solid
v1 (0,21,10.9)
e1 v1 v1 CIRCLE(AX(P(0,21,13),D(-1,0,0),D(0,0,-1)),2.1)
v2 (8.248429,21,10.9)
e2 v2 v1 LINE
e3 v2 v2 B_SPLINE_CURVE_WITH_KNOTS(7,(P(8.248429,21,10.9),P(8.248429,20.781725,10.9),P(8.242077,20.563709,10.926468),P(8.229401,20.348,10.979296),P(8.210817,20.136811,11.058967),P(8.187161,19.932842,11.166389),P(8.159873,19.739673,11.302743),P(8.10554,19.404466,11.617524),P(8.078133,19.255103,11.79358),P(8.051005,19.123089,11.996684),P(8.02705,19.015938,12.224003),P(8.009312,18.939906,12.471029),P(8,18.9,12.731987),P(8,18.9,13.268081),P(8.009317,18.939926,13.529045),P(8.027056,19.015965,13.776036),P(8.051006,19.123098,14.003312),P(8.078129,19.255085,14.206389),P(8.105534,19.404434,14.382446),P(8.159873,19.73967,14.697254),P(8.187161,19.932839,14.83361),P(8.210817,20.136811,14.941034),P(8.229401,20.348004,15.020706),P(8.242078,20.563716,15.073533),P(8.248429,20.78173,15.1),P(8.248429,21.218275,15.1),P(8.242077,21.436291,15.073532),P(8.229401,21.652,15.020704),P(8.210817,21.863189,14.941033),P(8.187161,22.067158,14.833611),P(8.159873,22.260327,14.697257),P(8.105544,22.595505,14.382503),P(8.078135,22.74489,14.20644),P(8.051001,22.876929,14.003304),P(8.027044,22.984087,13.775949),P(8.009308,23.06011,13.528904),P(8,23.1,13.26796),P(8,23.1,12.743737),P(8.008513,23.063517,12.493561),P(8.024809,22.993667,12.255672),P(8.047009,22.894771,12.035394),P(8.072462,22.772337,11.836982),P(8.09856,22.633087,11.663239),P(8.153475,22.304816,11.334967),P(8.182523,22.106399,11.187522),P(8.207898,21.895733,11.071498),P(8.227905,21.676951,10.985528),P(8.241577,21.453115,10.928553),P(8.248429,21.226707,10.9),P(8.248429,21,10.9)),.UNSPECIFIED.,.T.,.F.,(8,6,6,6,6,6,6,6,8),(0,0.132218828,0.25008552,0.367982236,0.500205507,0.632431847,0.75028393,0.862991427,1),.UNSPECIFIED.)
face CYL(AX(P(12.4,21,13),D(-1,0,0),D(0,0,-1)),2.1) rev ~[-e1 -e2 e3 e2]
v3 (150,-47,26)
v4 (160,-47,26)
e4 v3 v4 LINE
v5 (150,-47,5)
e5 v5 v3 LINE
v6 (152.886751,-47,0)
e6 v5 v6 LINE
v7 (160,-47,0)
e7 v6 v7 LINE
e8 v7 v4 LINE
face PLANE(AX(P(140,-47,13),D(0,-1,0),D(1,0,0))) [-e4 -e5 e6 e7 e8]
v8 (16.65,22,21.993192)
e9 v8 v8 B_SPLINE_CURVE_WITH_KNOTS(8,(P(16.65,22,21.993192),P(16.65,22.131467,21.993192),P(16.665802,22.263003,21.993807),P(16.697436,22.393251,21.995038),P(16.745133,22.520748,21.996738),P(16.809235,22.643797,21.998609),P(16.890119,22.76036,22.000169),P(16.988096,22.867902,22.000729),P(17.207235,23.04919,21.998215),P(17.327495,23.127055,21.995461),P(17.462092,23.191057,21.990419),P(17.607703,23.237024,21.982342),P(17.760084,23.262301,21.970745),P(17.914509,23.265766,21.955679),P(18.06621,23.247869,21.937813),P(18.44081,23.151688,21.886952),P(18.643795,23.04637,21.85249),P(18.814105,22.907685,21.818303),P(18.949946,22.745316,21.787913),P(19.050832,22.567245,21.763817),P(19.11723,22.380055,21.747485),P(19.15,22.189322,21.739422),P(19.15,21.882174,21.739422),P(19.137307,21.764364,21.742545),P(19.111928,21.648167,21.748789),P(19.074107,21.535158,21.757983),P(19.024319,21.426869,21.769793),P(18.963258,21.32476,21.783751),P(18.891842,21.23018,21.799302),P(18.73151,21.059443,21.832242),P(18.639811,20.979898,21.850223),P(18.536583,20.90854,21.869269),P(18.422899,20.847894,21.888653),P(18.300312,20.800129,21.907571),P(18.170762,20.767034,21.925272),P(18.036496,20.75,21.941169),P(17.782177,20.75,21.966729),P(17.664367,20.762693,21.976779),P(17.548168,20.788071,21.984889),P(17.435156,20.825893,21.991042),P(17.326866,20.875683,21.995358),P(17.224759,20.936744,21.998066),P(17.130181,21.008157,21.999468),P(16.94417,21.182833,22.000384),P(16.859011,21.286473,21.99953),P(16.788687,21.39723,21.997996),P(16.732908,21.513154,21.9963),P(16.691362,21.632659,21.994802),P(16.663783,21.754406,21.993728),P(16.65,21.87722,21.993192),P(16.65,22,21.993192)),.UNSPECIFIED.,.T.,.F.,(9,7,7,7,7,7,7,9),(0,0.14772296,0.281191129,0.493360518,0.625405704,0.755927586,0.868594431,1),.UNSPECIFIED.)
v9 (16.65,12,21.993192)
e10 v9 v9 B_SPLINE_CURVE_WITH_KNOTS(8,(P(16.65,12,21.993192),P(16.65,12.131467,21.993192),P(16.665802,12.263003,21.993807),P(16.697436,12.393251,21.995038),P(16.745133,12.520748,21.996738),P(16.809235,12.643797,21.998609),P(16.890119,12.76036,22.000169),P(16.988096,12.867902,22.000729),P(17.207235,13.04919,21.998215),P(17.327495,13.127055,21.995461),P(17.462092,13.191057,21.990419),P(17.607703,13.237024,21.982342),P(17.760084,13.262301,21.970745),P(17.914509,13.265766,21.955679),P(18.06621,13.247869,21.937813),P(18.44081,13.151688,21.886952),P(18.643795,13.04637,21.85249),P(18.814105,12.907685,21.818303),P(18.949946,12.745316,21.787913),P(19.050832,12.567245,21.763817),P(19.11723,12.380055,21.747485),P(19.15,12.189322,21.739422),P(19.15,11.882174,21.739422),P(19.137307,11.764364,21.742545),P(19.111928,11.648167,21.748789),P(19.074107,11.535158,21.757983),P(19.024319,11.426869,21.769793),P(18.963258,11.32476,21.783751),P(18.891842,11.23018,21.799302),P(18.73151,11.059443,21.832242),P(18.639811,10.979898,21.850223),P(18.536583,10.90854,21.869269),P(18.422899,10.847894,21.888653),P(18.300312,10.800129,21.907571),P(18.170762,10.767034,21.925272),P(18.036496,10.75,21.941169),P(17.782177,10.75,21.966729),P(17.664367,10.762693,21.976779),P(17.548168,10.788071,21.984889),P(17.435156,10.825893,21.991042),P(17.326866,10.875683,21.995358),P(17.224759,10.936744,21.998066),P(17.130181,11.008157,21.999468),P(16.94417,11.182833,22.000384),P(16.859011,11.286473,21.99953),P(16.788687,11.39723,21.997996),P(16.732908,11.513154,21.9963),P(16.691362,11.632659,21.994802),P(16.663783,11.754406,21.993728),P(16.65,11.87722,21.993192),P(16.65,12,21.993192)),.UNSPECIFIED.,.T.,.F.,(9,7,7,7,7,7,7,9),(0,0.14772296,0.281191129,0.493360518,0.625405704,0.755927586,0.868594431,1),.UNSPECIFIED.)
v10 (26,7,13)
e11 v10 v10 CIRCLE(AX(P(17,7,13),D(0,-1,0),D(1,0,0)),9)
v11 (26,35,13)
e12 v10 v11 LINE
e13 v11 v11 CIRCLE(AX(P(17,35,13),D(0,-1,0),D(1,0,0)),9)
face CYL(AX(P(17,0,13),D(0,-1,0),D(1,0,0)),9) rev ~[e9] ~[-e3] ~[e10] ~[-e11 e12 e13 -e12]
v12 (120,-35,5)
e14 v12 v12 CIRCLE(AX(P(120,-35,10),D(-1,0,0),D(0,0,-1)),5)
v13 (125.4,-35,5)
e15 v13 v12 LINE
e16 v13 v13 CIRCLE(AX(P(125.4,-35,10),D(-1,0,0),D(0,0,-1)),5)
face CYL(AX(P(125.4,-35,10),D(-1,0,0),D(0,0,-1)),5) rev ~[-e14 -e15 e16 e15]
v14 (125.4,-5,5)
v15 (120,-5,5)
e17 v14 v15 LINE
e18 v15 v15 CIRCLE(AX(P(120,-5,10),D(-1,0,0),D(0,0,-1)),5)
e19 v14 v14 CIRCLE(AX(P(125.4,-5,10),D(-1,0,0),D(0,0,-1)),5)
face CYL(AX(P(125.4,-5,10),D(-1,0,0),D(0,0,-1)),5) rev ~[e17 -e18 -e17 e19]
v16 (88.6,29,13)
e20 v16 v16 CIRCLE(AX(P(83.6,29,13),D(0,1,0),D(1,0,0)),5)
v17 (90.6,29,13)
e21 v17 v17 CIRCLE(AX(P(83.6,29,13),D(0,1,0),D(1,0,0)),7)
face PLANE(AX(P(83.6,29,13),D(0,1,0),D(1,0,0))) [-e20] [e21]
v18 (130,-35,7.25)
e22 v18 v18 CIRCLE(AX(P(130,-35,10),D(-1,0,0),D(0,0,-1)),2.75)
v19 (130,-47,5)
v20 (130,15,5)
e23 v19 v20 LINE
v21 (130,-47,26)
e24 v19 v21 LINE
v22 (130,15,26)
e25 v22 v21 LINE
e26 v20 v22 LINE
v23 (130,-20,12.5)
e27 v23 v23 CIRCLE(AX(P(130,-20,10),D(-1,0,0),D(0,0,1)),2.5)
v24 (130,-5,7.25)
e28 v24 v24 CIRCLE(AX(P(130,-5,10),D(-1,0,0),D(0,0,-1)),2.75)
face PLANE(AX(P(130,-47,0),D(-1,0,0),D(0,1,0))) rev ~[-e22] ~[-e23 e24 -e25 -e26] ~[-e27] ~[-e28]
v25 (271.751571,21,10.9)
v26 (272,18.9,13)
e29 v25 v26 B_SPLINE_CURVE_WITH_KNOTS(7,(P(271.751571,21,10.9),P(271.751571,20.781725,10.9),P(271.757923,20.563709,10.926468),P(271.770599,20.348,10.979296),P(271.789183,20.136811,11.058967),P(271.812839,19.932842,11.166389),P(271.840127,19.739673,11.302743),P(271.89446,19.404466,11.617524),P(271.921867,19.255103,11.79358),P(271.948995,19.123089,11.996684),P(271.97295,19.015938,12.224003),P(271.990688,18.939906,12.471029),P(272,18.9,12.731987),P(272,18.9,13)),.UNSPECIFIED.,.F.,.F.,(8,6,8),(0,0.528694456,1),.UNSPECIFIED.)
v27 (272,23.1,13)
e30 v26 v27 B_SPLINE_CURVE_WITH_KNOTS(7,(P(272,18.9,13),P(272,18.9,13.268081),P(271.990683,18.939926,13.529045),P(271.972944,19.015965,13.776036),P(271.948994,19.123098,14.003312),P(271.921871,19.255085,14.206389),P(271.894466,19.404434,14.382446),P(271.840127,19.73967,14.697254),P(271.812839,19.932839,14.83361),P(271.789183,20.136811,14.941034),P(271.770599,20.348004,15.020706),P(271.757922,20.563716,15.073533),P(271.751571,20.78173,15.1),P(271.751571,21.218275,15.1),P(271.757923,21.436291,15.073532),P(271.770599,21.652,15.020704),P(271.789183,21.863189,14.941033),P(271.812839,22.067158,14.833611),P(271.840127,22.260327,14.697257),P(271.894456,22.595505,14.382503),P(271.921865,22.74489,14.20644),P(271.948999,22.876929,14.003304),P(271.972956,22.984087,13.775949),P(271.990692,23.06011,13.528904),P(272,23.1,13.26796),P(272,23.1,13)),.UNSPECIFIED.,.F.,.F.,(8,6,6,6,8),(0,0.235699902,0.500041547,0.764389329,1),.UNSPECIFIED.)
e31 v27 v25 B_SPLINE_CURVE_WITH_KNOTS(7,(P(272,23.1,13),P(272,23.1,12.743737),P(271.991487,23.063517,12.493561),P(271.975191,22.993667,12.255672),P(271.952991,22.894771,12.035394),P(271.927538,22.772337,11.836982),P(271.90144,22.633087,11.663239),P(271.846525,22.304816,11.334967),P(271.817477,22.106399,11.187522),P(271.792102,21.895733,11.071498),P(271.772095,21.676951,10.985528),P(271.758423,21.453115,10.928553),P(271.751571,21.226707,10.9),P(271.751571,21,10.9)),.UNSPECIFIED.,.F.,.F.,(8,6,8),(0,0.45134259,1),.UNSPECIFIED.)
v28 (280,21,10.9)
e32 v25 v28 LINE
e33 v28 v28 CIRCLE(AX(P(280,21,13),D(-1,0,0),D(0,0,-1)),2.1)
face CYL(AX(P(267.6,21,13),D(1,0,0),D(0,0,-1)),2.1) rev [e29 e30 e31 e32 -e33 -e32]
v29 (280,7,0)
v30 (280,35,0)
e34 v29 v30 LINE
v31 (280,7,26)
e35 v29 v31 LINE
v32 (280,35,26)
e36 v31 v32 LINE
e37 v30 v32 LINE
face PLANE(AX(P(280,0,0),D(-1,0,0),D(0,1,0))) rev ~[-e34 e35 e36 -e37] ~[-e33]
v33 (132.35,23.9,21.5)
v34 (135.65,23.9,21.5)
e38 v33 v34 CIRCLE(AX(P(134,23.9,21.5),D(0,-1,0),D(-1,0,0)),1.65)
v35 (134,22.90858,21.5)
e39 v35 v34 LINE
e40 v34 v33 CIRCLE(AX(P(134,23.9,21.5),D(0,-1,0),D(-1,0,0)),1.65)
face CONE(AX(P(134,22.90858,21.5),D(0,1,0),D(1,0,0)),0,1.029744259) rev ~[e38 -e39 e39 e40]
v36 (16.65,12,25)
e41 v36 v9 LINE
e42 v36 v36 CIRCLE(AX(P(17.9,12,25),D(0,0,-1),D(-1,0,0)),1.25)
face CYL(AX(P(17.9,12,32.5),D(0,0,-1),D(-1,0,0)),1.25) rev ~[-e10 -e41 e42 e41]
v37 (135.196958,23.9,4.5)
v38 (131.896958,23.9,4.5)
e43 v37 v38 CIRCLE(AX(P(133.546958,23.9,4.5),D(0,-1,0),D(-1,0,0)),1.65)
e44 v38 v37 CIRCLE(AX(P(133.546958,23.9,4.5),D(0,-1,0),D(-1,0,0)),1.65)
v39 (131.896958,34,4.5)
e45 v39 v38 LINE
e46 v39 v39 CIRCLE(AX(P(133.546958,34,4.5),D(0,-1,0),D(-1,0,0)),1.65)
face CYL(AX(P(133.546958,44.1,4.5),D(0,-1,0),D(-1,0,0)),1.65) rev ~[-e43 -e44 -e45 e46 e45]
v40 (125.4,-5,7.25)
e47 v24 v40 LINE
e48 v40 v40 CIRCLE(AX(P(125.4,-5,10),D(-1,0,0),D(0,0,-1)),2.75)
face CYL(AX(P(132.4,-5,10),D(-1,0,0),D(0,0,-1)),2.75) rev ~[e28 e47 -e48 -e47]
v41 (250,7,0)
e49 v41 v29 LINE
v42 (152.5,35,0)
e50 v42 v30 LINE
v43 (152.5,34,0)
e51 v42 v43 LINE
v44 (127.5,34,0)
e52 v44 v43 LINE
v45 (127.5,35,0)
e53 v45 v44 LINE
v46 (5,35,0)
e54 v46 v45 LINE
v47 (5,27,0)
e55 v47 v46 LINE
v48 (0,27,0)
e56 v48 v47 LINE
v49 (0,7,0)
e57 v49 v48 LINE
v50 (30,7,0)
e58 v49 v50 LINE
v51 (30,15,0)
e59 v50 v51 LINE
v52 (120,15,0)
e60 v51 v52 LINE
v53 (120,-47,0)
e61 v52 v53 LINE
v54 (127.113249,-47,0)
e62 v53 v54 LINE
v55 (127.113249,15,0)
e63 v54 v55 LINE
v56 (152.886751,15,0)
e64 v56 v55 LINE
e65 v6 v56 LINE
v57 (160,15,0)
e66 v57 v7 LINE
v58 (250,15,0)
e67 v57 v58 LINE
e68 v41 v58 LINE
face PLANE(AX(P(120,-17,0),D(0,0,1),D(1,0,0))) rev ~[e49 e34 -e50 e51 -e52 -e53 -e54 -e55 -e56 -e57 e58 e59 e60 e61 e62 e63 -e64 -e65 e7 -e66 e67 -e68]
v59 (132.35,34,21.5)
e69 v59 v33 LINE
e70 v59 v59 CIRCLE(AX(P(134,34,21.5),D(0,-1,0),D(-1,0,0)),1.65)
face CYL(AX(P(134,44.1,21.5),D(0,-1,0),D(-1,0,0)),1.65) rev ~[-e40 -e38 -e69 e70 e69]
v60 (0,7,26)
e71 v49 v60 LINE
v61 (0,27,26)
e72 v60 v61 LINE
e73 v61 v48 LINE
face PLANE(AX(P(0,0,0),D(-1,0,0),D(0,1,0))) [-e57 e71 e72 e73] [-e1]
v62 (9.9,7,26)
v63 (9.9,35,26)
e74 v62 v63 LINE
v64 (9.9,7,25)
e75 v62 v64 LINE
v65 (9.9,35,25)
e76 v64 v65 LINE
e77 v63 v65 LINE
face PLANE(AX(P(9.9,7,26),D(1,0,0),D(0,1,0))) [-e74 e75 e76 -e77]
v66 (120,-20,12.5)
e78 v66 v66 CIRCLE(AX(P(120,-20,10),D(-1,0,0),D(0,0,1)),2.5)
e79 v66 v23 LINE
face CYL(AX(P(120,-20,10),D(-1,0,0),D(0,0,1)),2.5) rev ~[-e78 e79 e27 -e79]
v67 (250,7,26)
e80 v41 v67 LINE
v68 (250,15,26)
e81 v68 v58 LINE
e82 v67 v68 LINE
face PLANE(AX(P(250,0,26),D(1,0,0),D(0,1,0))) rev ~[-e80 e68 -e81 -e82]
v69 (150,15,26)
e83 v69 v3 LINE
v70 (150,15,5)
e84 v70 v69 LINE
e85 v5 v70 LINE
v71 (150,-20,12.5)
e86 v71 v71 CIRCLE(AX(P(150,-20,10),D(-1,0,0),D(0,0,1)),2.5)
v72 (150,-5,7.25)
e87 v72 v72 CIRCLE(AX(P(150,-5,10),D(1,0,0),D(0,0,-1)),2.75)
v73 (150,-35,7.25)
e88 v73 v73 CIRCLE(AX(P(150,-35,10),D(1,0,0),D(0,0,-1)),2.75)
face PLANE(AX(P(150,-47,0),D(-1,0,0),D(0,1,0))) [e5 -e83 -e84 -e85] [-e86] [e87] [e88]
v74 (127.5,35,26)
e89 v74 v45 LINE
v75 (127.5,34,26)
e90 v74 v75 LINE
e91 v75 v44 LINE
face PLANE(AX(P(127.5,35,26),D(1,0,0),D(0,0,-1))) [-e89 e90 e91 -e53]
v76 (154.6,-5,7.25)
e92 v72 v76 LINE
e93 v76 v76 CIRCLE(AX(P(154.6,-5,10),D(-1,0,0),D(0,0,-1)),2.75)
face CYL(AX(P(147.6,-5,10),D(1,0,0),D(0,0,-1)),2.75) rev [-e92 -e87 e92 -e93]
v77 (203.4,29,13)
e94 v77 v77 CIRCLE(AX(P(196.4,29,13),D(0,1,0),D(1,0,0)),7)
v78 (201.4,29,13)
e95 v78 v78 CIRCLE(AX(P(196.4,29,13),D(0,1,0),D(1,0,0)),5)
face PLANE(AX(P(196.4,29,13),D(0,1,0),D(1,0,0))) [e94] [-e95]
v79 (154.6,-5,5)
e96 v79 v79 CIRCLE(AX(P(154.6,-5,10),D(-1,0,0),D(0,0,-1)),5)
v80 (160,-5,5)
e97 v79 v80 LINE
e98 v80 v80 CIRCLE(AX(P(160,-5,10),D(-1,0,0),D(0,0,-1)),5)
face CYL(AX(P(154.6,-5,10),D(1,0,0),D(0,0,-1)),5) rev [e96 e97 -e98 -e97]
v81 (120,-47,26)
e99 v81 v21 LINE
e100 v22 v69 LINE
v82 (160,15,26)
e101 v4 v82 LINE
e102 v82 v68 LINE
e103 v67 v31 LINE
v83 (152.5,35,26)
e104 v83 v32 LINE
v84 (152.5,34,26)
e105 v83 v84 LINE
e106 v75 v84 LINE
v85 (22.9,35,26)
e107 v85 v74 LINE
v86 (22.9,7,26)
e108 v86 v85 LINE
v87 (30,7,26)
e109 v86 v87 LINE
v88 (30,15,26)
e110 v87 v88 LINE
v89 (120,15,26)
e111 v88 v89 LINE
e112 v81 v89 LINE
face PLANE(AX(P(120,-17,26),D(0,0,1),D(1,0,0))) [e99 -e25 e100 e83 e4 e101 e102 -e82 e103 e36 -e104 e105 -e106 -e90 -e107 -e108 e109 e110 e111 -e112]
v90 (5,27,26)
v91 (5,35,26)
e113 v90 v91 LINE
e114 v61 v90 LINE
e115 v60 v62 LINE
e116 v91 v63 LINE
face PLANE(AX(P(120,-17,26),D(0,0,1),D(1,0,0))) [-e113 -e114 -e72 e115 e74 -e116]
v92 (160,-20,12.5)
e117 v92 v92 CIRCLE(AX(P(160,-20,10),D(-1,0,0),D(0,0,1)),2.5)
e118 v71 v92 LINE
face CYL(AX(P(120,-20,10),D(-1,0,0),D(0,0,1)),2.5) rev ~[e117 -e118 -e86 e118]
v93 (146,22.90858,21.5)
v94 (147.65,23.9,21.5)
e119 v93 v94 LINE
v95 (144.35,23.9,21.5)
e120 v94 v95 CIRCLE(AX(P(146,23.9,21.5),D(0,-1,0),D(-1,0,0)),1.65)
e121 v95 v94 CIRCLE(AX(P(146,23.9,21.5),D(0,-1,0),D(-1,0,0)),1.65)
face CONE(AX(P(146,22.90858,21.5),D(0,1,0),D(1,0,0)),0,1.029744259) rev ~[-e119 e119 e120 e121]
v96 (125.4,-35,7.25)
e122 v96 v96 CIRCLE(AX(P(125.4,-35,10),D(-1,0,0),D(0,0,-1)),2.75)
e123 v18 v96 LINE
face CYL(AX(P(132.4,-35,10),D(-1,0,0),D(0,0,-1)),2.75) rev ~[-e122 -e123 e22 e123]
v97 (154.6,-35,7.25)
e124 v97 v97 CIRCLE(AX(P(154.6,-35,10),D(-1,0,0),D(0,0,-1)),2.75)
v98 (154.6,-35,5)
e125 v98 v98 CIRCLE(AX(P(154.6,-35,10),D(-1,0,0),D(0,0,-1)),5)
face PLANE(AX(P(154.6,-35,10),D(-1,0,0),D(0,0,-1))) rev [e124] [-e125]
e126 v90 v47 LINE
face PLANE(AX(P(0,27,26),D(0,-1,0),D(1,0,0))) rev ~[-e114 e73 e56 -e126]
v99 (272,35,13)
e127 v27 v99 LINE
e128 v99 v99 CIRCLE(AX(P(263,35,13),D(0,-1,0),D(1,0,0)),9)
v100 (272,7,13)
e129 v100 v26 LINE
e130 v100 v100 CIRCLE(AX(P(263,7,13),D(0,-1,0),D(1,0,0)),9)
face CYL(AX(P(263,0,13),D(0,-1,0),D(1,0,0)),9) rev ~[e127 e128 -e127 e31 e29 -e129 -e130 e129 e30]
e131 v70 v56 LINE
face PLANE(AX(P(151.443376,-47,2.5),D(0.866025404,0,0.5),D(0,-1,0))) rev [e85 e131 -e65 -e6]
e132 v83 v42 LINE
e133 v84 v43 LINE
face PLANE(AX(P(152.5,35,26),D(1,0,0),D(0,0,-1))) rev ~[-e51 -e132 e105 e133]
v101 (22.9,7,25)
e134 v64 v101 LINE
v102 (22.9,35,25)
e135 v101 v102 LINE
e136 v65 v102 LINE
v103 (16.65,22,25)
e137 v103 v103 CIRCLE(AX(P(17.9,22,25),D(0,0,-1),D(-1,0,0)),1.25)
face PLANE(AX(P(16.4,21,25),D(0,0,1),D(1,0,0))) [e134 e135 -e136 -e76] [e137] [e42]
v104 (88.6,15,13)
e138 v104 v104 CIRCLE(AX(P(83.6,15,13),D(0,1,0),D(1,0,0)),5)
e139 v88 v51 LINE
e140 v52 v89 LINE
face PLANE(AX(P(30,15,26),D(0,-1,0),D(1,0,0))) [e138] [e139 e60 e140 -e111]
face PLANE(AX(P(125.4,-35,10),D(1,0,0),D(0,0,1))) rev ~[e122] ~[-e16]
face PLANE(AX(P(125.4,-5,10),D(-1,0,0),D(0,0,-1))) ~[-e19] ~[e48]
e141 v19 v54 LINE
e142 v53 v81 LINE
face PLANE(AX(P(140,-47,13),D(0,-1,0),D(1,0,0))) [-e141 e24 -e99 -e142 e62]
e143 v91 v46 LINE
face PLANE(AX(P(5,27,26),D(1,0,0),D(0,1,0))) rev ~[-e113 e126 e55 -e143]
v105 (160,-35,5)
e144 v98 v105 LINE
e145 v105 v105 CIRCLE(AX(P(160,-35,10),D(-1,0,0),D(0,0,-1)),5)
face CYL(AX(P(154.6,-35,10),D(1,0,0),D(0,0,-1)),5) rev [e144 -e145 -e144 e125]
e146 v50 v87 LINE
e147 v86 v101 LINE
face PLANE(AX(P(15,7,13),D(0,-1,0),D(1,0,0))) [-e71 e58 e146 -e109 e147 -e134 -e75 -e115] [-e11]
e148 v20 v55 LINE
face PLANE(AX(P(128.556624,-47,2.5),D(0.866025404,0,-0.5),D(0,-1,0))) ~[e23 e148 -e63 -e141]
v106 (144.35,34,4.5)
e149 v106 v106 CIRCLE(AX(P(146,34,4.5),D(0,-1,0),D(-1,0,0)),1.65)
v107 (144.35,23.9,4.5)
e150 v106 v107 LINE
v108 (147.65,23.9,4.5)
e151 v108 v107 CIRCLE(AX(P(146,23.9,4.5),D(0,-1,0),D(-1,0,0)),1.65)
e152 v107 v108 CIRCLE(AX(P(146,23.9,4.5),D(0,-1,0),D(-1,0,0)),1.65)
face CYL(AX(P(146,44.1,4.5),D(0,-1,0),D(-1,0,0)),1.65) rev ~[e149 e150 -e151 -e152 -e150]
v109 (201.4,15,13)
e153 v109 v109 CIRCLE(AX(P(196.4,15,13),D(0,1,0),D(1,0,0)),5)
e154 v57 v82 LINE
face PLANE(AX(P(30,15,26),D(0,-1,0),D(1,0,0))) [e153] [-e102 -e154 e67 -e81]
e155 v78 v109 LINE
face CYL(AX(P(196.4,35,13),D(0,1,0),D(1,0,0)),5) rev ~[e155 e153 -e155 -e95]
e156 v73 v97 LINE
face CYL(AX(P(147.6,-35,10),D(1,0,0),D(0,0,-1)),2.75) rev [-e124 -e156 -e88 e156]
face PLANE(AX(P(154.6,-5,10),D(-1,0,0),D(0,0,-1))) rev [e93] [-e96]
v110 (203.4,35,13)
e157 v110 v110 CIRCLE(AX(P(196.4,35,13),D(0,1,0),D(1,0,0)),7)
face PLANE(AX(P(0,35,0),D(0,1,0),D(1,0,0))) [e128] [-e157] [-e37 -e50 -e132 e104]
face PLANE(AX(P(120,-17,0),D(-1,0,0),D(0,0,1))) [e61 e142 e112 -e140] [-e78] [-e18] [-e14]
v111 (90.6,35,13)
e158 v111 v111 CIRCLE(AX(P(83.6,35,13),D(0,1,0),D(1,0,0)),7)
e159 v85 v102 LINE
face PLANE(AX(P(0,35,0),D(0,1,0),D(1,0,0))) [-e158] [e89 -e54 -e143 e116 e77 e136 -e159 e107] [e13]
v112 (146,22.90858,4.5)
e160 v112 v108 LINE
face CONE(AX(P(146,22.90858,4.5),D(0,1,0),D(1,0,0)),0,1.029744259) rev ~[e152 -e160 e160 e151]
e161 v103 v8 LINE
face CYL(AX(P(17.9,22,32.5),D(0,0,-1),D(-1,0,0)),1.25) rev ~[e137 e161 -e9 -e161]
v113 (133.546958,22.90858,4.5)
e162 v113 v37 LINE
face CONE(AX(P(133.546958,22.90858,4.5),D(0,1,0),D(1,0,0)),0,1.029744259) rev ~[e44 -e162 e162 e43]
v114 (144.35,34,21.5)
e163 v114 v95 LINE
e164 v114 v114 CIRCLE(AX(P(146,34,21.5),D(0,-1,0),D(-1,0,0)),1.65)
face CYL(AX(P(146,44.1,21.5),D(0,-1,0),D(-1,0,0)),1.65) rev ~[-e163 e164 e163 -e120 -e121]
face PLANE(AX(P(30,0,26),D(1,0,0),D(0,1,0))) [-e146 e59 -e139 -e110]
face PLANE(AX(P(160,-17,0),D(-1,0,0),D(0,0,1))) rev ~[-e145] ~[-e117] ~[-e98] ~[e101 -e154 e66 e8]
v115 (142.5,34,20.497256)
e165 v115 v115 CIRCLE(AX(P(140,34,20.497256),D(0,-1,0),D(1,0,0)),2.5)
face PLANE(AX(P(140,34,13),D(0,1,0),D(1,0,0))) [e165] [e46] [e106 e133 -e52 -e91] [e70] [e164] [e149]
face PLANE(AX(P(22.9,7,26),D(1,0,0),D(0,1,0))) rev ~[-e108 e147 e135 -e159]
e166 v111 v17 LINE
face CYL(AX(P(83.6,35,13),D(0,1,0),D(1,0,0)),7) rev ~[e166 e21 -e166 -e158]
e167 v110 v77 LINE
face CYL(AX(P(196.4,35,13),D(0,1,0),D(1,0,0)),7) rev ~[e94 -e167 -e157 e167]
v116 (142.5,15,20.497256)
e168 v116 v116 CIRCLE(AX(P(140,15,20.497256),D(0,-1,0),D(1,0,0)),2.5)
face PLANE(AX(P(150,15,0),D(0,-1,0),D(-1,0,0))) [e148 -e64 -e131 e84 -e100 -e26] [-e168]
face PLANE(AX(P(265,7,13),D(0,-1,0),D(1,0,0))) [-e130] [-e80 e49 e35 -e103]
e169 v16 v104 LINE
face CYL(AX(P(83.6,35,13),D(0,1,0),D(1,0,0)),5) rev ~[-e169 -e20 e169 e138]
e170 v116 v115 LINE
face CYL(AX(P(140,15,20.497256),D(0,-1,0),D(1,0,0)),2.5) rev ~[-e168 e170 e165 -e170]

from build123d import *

# Parameters (mm, degrees)
SKETCH_1_W                    = 280
SKETCH_1_H                    = 35
EXTRUDE_1_DEPTH               = 26
SKETCH_3_R                    = 9
CUT_EXTRUDE_1_DEPTH           = 36
SKETCH_4_W                    = 25
SKETCH_4_H                    = 26
CUT_EXTRUDE_2_DEPTH           = 1
HOLE_WIZARD_M4_1_D            = 3.3
HOLE_WIZARD_M4_1_DEPTH        = 10.1
HOLE_WIZARD_M4_1_TIP          = 0.991420021
SKETCH_7_W                    = 220
SKETCH_7_H                    = 15
CUT_EXTRUDE_3_DEPTH           = 27
SKETCH_8_W                    = 40
SKETCH_8_H                    = 26
EXTRUDE_2_DEPTH               = 35
SKETCH_15_W                   = 58.430685067
SKETCH_15_H                   = 44.376242578
CUT_EXTRUDE_7_DEPTH           = 3
SKETCH_17_W                   = 40
SKETCH_17_H                   = 26
EXTRUDE_4_DEPTH               = 30
SKETCH_18_W                   = 20
SKETCH_18_H                   = 62
CUT_EXTRUDE_8_DEPTH           = 27
SKETCH_19_W                   = 30
SKETCH_19_H                   = 26
CUT_EXTRUDE_11_DEPTH          = 7
HOLE_WIZARD_M5_1_2_AT_2_COUNT = 2
HOLE_WIZARD_M5_1_2_AT_2_PITCH = 30
CHAMFER_1_SIZE                = 5
CHAMFER_1_SIZE2               = 2.886751346
CHAMFER_2_SIZE                = 5
CHAMFER_2_SIZE2               = 2.886751346
SKETCH_25_R                   = 2.5
CUT_EXTRUDE_12_DEPTH          = 21.0000001
SKETCH_26_R                   = 2.5
CUT_EXTRUDE_13_DEPTH          = 161.0000001
SKETCH_27_R                   = 5
CUT_EXTRUDE_14_DEPTH          = 83
SKETCH_28_R                   = 7
CUT_EXTRUDE_15_DEPTH          = 6
SKETCH_31_W                   = 13
SKETCH_31_H                   = 28
CUT_EXTRUDE_16_DEPTH          = 1
HOLE_WIZARD_M3_1_D            = 2.5
HOLE_WIZARD_M3_1_DEPTH        = 7.5
HOLE_WIZARD_M3_1_TIP          = 0.751075774
SKETCH_34_W                   = 5
SKETCH_34_H                   = 8
CUT_EXTRUDE_17_DEPTH          = 27


with BuildPart() as part:
    # 草图1 → 凸台-拉伸1 (new body)
    with BuildSketch(Plane.XY):
        with Locations((140, 17.5)):
            Rectangle(SKETCH_1_W, SKETCH_1_H)
    extrude(amount=EXTRUDE_1_DEPTH)

    # 草图3 → 切除-拉伸1 (cut, through all)
    with BuildSketch(Plane.XZ):
        with Locations((17, 13)):
            Circle(SKETCH_3_R)
        with Locations((263, 13)):
            Circle(SKETCH_3_R)
    extrude(amount=-CUT_EXTRUDE_1_DEPTH, mode=Mode.SUBTRACT)

    # 草图4 → 切除-拉伸2 (cut)
    with BuildSketch(Plane(origin=(0, 35, 0), x_dir=(1, 0, 0), z_dir=(0, 1, 0))):
        with Locations((140, -13)):
            Rectangle(SKETCH_4_W, SKETCH_4_H)
    extrude(amount=-CUT_EXTRUDE_2_DEPTH, mode=Mode.SUBTRACT)

    # M4 螺纹孔1
    with Locations(Plane(origin=(0, 34, 0), x_dir=(1, 0, 0), z_dir=(0, 1, 0))):
        with Locations((146, -21.5), (134, -21.5), (146, -4.5), (133.546958493, -4.5)):
            Hole(HOLE_WIZARD_M4_1_D / 2, depth=HOLE_WIZARD_M4_1_DEPTH)
            with Locations((0, 0, -(HOLE_WIZARD_M4_1_DEPTH + HOLE_WIZARD_M4_1_TIP / 2))):  # 118° drill point
                Cone(0, HOLE_WIZARD_M4_1_D / 2, HOLE_WIZARD_M4_1_TIP, mode=Mode.SUBTRACT)

    # 草图7 → 切除-拉伸3 (cut, through all)
    with BuildSketch(Plane.XY.offset(26)):
        with Locations((140, 7.5)):
            Rectangle(SKETCH_7_W, SKETCH_7_H)
    extrude(amount=-CUT_EXTRUDE_3_DEPTH, mode=Mode.SUBTRACT)

    # 草图8 → 凸台-拉伸2 (add)
    with BuildSketch(Plane.XZ.offset(-15)):
        with Locations((140, 13)):
            Rectangle(SKETCH_8_W, SKETCH_8_H)
    extrude(amount=EXTRUDE_2_DEPTH)

    # 草图15 → 切除-拉伸7 (cut)
    with BuildSketch(Plane.XZ.offset(20)):
        with Locations((130.784657466, 3.811878711)):
            Rectangle(SKETCH_15_W, SKETCH_15_H)
    extrude(amount=-CUT_EXTRUDE_7_DEPTH, mode=Mode.SUBTRACT)

    # 草图17 → 凸台-拉伸4 (add)
    with BuildSketch(Plane.XZ.offset(17)):
        with Locations((140, 13)):
            Rectangle(SKETCH_17_W, SKETCH_17_H)
    extrude(amount=EXTRUDE_4_DEPTH)

    # 草图18 → 切除-拉伸8 (cut, through all)
    with BuildSketch(Plane(origin=(0, 0, 0), x_dir=(-1, 0, 0), z_dir=(0, 0, -1))):
        with Locations((-140, -16)):
            Rectangle(SKETCH_18_W, SKETCH_18_H)
    extrude(amount=-CUT_EXTRUDE_8_DEPTH, mode=Mode.SUBTRACT)

    # 草图19 → 切除-拉伸11 (cut)
    with BuildSketch(Plane.XZ):
        with Locations((265, 13)):
            Rectangle(SKETCH_19_W, SKETCH_19_H)
        with Locations((15, 13)):
            Rectangle(SKETCH_19_W, SKETCH_19_H)
    extrude(amount=-CUT_EXTRUDE_11_DEPTH, mode=Mode.SUBTRACT)

    # 草图21 → Hole Wizard M5 _1 (revolve, cut)
    with BuildSketch(Plane(origin=(280, 21, 13), x_dir=(0, 0, -1), z_dir=(0, 1, 0))):
        Polygon((0, 0), (0, 13.6618073), (2.1, 12.4), (2.1, 0), align=None)
    hole_wizard_m5_1 = revolve(axis=Axis((286.35, 21, 13), (-1, 0, 0)), mode=Mode.SUBTRACT)

    # 镜向1: Hole Wizard M5 _1 across plane
    add(hole_wizard_m5_1.mirror(Plane.ZY.offset(-140)), mode=Mode.SUBTRACT)

    # 草图24 → Hole Wizard M5 _1 2 (revolve, cut)
    with BuildSketch(Plane(origin=(160, -35, 10), x_dir=(0, 0, -1), z_dir=(0, 1, 0))):
        Polygon((0, 0), (0, 14.052366702), (2.75, 12.4), (2.75, 5.4), (5, 5.4), (5, 0), align=None)
    hole_wizard_m5_1_2 = revolve(axis=Axis((166.35, -35, 10), (-1, 0, 0)), mode=Mode.SUBTRACT)

    # Hole Wizard M5 _1 2 at 2: Hole Wizard M5 _1 2 ×2
    with Locations(*[(0, i * HOLE_WIZARD_M5_1_2_AT_2_PITCH, 0) for i in range(1, HOLE_WIZARD_M5_1_2_AT_2_COUNT)]):
        add(hole_wizard_m5_1_2, mode=Mode.SUBTRACT)

    # 倒角1
    chamfer_1_edges = [part.edges().sort_by_distance(p)[0] for p in [
        (150, -16, 0),
    ]]
    chamfer_1_side = [part.faces().sort_by_distance(p)[0] for p in [
        (150, -15.878511748, 13.091116189),
    ]]
    chamfer(chamfer_1_edges, length=CHAMFER_1_SIZE, length2=CHAMFER_1_SIZE2, reference=chamfer_1_side[0])

    # 倒角2
    chamfer_2_edges = [part.edges().sort_by_distance(p)[0] for p in [
        (130, -16, 0),
    ]]
    chamfer_2_side = [part.faces().sort_by_distance(p)[0] for p in [
        (130, -16, 13),
    ]]
    chamfer(chamfer_2_edges, length=CHAMFER_2_SIZE, length2=CHAMFER_2_SIZE2, reference=chamfer_2_side[0])

    # 镜向2: Hole Wizard M5 _1 2 across plane
    add(hole_wizard_m5_1_2.mirror(Plane.ZY.offset(-140)), mode=Mode.SUBTRACT)

    # 镜向2 copy 1 sketch → 镜向2 copy 1 (revolve, cut)
    with BuildSketch(Plane(origin=(120, -5, 10), x_dir=(0, 0, -1), z_dir=(0, 1, 0))):
        Polygon((0, 0), (0, -14.052366702), (2.75, -12.4), (2.75, -5.4), (5, -5.4), (5, 0), align=None)
    revolve(axis=Axis((113.65, -5, 10), (-1, 0, 0)), mode=Mode.SUBTRACT)

    # 草图25 → 切除-拉伸12 (cut, through all)
    with BuildSketch(Plane.XZ.offset(-15)):
        with Locations((140, 20.49725583)):
            Circle(SKETCH_25_R)
    extrude(amount=-CUT_EXTRUDE_12_DEPTH, mode=Mode.SUBTRACT)

    # 草图26 → 切除-拉伸13 (cut, through all)
    with BuildSketch(Plane.ZY.offset(-120)):
        with Locations((10, -20)):
            Circle(SKETCH_26_R)
    extrude(amount=-CUT_EXTRUDE_13_DEPTH, mode=Mode.SUBTRACT)

    # 草图27 → 切除-拉伸14 (cut, through all)
    with BuildSketch(Plane(origin=(0, 35, 0), x_dir=(1, 0, 0), z_dir=(0, 1, 0))):
        with Locations((196.4, -13)):
            Circle(SKETCH_27_R)
        with Locations((83.6, -13)):
            Circle(SKETCH_27_R)
    extrude(amount=-CUT_EXTRUDE_14_DEPTH, mode=Mode.SUBTRACT)

    # 草图28 → 切除-拉伸15 (cut)
    with BuildSketch(Plane(origin=(0, 35, 0), x_dir=(1, 0, 0), z_dir=(0, 1, 0))):
        with Locations((196.4, -13)):
            Circle(SKETCH_28_R)
        with Locations((83.6, -13)):
            Circle(SKETCH_28_R)
    extrude(amount=-CUT_EXTRUDE_15_DEPTH, mode=Mode.SUBTRACT)

    # 草图31 → 切除-拉伸16 (cut)
    with BuildSketch(Plane.XY.offset(26)):
        with Locations((16.4, 21)):
            Rectangle(SKETCH_31_W, SKETCH_31_H)
    extrude(amount=-CUT_EXTRUDE_16_DEPTH, mode=Mode.SUBTRACT)

    # M3 螺纹孔1
    with Locations(Plane.XY.offset(25)):
        with Locations((17.9, 12), (17.9, 22)):
            Hole(HOLE_WIZARD_M3_1_D / 2, depth=HOLE_WIZARD_M3_1_DEPTH)
            with Locations((0, 0, -(HOLE_WIZARD_M3_1_DEPTH + HOLE_WIZARD_M3_1_TIP / 2))):  # 118° drill point
                Cone(0, HOLE_WIZARD_M3_1_D / 2, HOLE_WIZARD_M3_1_TIP, mode=Mode.SUBTRACT)

    # 草图34 → 切除-拉伸17 (cut, through all)
    with BuildSketch(Plane.XY.offset(26)):
        with Locations((2.5, 31)):
            Rectangle(SKETCH_34_W, SKETCH_34_H)
    extrude(amount=-CUT_EXTRUDE_17_DEPTH, mode=Mode.SUBTRACT)


solid = part.part
